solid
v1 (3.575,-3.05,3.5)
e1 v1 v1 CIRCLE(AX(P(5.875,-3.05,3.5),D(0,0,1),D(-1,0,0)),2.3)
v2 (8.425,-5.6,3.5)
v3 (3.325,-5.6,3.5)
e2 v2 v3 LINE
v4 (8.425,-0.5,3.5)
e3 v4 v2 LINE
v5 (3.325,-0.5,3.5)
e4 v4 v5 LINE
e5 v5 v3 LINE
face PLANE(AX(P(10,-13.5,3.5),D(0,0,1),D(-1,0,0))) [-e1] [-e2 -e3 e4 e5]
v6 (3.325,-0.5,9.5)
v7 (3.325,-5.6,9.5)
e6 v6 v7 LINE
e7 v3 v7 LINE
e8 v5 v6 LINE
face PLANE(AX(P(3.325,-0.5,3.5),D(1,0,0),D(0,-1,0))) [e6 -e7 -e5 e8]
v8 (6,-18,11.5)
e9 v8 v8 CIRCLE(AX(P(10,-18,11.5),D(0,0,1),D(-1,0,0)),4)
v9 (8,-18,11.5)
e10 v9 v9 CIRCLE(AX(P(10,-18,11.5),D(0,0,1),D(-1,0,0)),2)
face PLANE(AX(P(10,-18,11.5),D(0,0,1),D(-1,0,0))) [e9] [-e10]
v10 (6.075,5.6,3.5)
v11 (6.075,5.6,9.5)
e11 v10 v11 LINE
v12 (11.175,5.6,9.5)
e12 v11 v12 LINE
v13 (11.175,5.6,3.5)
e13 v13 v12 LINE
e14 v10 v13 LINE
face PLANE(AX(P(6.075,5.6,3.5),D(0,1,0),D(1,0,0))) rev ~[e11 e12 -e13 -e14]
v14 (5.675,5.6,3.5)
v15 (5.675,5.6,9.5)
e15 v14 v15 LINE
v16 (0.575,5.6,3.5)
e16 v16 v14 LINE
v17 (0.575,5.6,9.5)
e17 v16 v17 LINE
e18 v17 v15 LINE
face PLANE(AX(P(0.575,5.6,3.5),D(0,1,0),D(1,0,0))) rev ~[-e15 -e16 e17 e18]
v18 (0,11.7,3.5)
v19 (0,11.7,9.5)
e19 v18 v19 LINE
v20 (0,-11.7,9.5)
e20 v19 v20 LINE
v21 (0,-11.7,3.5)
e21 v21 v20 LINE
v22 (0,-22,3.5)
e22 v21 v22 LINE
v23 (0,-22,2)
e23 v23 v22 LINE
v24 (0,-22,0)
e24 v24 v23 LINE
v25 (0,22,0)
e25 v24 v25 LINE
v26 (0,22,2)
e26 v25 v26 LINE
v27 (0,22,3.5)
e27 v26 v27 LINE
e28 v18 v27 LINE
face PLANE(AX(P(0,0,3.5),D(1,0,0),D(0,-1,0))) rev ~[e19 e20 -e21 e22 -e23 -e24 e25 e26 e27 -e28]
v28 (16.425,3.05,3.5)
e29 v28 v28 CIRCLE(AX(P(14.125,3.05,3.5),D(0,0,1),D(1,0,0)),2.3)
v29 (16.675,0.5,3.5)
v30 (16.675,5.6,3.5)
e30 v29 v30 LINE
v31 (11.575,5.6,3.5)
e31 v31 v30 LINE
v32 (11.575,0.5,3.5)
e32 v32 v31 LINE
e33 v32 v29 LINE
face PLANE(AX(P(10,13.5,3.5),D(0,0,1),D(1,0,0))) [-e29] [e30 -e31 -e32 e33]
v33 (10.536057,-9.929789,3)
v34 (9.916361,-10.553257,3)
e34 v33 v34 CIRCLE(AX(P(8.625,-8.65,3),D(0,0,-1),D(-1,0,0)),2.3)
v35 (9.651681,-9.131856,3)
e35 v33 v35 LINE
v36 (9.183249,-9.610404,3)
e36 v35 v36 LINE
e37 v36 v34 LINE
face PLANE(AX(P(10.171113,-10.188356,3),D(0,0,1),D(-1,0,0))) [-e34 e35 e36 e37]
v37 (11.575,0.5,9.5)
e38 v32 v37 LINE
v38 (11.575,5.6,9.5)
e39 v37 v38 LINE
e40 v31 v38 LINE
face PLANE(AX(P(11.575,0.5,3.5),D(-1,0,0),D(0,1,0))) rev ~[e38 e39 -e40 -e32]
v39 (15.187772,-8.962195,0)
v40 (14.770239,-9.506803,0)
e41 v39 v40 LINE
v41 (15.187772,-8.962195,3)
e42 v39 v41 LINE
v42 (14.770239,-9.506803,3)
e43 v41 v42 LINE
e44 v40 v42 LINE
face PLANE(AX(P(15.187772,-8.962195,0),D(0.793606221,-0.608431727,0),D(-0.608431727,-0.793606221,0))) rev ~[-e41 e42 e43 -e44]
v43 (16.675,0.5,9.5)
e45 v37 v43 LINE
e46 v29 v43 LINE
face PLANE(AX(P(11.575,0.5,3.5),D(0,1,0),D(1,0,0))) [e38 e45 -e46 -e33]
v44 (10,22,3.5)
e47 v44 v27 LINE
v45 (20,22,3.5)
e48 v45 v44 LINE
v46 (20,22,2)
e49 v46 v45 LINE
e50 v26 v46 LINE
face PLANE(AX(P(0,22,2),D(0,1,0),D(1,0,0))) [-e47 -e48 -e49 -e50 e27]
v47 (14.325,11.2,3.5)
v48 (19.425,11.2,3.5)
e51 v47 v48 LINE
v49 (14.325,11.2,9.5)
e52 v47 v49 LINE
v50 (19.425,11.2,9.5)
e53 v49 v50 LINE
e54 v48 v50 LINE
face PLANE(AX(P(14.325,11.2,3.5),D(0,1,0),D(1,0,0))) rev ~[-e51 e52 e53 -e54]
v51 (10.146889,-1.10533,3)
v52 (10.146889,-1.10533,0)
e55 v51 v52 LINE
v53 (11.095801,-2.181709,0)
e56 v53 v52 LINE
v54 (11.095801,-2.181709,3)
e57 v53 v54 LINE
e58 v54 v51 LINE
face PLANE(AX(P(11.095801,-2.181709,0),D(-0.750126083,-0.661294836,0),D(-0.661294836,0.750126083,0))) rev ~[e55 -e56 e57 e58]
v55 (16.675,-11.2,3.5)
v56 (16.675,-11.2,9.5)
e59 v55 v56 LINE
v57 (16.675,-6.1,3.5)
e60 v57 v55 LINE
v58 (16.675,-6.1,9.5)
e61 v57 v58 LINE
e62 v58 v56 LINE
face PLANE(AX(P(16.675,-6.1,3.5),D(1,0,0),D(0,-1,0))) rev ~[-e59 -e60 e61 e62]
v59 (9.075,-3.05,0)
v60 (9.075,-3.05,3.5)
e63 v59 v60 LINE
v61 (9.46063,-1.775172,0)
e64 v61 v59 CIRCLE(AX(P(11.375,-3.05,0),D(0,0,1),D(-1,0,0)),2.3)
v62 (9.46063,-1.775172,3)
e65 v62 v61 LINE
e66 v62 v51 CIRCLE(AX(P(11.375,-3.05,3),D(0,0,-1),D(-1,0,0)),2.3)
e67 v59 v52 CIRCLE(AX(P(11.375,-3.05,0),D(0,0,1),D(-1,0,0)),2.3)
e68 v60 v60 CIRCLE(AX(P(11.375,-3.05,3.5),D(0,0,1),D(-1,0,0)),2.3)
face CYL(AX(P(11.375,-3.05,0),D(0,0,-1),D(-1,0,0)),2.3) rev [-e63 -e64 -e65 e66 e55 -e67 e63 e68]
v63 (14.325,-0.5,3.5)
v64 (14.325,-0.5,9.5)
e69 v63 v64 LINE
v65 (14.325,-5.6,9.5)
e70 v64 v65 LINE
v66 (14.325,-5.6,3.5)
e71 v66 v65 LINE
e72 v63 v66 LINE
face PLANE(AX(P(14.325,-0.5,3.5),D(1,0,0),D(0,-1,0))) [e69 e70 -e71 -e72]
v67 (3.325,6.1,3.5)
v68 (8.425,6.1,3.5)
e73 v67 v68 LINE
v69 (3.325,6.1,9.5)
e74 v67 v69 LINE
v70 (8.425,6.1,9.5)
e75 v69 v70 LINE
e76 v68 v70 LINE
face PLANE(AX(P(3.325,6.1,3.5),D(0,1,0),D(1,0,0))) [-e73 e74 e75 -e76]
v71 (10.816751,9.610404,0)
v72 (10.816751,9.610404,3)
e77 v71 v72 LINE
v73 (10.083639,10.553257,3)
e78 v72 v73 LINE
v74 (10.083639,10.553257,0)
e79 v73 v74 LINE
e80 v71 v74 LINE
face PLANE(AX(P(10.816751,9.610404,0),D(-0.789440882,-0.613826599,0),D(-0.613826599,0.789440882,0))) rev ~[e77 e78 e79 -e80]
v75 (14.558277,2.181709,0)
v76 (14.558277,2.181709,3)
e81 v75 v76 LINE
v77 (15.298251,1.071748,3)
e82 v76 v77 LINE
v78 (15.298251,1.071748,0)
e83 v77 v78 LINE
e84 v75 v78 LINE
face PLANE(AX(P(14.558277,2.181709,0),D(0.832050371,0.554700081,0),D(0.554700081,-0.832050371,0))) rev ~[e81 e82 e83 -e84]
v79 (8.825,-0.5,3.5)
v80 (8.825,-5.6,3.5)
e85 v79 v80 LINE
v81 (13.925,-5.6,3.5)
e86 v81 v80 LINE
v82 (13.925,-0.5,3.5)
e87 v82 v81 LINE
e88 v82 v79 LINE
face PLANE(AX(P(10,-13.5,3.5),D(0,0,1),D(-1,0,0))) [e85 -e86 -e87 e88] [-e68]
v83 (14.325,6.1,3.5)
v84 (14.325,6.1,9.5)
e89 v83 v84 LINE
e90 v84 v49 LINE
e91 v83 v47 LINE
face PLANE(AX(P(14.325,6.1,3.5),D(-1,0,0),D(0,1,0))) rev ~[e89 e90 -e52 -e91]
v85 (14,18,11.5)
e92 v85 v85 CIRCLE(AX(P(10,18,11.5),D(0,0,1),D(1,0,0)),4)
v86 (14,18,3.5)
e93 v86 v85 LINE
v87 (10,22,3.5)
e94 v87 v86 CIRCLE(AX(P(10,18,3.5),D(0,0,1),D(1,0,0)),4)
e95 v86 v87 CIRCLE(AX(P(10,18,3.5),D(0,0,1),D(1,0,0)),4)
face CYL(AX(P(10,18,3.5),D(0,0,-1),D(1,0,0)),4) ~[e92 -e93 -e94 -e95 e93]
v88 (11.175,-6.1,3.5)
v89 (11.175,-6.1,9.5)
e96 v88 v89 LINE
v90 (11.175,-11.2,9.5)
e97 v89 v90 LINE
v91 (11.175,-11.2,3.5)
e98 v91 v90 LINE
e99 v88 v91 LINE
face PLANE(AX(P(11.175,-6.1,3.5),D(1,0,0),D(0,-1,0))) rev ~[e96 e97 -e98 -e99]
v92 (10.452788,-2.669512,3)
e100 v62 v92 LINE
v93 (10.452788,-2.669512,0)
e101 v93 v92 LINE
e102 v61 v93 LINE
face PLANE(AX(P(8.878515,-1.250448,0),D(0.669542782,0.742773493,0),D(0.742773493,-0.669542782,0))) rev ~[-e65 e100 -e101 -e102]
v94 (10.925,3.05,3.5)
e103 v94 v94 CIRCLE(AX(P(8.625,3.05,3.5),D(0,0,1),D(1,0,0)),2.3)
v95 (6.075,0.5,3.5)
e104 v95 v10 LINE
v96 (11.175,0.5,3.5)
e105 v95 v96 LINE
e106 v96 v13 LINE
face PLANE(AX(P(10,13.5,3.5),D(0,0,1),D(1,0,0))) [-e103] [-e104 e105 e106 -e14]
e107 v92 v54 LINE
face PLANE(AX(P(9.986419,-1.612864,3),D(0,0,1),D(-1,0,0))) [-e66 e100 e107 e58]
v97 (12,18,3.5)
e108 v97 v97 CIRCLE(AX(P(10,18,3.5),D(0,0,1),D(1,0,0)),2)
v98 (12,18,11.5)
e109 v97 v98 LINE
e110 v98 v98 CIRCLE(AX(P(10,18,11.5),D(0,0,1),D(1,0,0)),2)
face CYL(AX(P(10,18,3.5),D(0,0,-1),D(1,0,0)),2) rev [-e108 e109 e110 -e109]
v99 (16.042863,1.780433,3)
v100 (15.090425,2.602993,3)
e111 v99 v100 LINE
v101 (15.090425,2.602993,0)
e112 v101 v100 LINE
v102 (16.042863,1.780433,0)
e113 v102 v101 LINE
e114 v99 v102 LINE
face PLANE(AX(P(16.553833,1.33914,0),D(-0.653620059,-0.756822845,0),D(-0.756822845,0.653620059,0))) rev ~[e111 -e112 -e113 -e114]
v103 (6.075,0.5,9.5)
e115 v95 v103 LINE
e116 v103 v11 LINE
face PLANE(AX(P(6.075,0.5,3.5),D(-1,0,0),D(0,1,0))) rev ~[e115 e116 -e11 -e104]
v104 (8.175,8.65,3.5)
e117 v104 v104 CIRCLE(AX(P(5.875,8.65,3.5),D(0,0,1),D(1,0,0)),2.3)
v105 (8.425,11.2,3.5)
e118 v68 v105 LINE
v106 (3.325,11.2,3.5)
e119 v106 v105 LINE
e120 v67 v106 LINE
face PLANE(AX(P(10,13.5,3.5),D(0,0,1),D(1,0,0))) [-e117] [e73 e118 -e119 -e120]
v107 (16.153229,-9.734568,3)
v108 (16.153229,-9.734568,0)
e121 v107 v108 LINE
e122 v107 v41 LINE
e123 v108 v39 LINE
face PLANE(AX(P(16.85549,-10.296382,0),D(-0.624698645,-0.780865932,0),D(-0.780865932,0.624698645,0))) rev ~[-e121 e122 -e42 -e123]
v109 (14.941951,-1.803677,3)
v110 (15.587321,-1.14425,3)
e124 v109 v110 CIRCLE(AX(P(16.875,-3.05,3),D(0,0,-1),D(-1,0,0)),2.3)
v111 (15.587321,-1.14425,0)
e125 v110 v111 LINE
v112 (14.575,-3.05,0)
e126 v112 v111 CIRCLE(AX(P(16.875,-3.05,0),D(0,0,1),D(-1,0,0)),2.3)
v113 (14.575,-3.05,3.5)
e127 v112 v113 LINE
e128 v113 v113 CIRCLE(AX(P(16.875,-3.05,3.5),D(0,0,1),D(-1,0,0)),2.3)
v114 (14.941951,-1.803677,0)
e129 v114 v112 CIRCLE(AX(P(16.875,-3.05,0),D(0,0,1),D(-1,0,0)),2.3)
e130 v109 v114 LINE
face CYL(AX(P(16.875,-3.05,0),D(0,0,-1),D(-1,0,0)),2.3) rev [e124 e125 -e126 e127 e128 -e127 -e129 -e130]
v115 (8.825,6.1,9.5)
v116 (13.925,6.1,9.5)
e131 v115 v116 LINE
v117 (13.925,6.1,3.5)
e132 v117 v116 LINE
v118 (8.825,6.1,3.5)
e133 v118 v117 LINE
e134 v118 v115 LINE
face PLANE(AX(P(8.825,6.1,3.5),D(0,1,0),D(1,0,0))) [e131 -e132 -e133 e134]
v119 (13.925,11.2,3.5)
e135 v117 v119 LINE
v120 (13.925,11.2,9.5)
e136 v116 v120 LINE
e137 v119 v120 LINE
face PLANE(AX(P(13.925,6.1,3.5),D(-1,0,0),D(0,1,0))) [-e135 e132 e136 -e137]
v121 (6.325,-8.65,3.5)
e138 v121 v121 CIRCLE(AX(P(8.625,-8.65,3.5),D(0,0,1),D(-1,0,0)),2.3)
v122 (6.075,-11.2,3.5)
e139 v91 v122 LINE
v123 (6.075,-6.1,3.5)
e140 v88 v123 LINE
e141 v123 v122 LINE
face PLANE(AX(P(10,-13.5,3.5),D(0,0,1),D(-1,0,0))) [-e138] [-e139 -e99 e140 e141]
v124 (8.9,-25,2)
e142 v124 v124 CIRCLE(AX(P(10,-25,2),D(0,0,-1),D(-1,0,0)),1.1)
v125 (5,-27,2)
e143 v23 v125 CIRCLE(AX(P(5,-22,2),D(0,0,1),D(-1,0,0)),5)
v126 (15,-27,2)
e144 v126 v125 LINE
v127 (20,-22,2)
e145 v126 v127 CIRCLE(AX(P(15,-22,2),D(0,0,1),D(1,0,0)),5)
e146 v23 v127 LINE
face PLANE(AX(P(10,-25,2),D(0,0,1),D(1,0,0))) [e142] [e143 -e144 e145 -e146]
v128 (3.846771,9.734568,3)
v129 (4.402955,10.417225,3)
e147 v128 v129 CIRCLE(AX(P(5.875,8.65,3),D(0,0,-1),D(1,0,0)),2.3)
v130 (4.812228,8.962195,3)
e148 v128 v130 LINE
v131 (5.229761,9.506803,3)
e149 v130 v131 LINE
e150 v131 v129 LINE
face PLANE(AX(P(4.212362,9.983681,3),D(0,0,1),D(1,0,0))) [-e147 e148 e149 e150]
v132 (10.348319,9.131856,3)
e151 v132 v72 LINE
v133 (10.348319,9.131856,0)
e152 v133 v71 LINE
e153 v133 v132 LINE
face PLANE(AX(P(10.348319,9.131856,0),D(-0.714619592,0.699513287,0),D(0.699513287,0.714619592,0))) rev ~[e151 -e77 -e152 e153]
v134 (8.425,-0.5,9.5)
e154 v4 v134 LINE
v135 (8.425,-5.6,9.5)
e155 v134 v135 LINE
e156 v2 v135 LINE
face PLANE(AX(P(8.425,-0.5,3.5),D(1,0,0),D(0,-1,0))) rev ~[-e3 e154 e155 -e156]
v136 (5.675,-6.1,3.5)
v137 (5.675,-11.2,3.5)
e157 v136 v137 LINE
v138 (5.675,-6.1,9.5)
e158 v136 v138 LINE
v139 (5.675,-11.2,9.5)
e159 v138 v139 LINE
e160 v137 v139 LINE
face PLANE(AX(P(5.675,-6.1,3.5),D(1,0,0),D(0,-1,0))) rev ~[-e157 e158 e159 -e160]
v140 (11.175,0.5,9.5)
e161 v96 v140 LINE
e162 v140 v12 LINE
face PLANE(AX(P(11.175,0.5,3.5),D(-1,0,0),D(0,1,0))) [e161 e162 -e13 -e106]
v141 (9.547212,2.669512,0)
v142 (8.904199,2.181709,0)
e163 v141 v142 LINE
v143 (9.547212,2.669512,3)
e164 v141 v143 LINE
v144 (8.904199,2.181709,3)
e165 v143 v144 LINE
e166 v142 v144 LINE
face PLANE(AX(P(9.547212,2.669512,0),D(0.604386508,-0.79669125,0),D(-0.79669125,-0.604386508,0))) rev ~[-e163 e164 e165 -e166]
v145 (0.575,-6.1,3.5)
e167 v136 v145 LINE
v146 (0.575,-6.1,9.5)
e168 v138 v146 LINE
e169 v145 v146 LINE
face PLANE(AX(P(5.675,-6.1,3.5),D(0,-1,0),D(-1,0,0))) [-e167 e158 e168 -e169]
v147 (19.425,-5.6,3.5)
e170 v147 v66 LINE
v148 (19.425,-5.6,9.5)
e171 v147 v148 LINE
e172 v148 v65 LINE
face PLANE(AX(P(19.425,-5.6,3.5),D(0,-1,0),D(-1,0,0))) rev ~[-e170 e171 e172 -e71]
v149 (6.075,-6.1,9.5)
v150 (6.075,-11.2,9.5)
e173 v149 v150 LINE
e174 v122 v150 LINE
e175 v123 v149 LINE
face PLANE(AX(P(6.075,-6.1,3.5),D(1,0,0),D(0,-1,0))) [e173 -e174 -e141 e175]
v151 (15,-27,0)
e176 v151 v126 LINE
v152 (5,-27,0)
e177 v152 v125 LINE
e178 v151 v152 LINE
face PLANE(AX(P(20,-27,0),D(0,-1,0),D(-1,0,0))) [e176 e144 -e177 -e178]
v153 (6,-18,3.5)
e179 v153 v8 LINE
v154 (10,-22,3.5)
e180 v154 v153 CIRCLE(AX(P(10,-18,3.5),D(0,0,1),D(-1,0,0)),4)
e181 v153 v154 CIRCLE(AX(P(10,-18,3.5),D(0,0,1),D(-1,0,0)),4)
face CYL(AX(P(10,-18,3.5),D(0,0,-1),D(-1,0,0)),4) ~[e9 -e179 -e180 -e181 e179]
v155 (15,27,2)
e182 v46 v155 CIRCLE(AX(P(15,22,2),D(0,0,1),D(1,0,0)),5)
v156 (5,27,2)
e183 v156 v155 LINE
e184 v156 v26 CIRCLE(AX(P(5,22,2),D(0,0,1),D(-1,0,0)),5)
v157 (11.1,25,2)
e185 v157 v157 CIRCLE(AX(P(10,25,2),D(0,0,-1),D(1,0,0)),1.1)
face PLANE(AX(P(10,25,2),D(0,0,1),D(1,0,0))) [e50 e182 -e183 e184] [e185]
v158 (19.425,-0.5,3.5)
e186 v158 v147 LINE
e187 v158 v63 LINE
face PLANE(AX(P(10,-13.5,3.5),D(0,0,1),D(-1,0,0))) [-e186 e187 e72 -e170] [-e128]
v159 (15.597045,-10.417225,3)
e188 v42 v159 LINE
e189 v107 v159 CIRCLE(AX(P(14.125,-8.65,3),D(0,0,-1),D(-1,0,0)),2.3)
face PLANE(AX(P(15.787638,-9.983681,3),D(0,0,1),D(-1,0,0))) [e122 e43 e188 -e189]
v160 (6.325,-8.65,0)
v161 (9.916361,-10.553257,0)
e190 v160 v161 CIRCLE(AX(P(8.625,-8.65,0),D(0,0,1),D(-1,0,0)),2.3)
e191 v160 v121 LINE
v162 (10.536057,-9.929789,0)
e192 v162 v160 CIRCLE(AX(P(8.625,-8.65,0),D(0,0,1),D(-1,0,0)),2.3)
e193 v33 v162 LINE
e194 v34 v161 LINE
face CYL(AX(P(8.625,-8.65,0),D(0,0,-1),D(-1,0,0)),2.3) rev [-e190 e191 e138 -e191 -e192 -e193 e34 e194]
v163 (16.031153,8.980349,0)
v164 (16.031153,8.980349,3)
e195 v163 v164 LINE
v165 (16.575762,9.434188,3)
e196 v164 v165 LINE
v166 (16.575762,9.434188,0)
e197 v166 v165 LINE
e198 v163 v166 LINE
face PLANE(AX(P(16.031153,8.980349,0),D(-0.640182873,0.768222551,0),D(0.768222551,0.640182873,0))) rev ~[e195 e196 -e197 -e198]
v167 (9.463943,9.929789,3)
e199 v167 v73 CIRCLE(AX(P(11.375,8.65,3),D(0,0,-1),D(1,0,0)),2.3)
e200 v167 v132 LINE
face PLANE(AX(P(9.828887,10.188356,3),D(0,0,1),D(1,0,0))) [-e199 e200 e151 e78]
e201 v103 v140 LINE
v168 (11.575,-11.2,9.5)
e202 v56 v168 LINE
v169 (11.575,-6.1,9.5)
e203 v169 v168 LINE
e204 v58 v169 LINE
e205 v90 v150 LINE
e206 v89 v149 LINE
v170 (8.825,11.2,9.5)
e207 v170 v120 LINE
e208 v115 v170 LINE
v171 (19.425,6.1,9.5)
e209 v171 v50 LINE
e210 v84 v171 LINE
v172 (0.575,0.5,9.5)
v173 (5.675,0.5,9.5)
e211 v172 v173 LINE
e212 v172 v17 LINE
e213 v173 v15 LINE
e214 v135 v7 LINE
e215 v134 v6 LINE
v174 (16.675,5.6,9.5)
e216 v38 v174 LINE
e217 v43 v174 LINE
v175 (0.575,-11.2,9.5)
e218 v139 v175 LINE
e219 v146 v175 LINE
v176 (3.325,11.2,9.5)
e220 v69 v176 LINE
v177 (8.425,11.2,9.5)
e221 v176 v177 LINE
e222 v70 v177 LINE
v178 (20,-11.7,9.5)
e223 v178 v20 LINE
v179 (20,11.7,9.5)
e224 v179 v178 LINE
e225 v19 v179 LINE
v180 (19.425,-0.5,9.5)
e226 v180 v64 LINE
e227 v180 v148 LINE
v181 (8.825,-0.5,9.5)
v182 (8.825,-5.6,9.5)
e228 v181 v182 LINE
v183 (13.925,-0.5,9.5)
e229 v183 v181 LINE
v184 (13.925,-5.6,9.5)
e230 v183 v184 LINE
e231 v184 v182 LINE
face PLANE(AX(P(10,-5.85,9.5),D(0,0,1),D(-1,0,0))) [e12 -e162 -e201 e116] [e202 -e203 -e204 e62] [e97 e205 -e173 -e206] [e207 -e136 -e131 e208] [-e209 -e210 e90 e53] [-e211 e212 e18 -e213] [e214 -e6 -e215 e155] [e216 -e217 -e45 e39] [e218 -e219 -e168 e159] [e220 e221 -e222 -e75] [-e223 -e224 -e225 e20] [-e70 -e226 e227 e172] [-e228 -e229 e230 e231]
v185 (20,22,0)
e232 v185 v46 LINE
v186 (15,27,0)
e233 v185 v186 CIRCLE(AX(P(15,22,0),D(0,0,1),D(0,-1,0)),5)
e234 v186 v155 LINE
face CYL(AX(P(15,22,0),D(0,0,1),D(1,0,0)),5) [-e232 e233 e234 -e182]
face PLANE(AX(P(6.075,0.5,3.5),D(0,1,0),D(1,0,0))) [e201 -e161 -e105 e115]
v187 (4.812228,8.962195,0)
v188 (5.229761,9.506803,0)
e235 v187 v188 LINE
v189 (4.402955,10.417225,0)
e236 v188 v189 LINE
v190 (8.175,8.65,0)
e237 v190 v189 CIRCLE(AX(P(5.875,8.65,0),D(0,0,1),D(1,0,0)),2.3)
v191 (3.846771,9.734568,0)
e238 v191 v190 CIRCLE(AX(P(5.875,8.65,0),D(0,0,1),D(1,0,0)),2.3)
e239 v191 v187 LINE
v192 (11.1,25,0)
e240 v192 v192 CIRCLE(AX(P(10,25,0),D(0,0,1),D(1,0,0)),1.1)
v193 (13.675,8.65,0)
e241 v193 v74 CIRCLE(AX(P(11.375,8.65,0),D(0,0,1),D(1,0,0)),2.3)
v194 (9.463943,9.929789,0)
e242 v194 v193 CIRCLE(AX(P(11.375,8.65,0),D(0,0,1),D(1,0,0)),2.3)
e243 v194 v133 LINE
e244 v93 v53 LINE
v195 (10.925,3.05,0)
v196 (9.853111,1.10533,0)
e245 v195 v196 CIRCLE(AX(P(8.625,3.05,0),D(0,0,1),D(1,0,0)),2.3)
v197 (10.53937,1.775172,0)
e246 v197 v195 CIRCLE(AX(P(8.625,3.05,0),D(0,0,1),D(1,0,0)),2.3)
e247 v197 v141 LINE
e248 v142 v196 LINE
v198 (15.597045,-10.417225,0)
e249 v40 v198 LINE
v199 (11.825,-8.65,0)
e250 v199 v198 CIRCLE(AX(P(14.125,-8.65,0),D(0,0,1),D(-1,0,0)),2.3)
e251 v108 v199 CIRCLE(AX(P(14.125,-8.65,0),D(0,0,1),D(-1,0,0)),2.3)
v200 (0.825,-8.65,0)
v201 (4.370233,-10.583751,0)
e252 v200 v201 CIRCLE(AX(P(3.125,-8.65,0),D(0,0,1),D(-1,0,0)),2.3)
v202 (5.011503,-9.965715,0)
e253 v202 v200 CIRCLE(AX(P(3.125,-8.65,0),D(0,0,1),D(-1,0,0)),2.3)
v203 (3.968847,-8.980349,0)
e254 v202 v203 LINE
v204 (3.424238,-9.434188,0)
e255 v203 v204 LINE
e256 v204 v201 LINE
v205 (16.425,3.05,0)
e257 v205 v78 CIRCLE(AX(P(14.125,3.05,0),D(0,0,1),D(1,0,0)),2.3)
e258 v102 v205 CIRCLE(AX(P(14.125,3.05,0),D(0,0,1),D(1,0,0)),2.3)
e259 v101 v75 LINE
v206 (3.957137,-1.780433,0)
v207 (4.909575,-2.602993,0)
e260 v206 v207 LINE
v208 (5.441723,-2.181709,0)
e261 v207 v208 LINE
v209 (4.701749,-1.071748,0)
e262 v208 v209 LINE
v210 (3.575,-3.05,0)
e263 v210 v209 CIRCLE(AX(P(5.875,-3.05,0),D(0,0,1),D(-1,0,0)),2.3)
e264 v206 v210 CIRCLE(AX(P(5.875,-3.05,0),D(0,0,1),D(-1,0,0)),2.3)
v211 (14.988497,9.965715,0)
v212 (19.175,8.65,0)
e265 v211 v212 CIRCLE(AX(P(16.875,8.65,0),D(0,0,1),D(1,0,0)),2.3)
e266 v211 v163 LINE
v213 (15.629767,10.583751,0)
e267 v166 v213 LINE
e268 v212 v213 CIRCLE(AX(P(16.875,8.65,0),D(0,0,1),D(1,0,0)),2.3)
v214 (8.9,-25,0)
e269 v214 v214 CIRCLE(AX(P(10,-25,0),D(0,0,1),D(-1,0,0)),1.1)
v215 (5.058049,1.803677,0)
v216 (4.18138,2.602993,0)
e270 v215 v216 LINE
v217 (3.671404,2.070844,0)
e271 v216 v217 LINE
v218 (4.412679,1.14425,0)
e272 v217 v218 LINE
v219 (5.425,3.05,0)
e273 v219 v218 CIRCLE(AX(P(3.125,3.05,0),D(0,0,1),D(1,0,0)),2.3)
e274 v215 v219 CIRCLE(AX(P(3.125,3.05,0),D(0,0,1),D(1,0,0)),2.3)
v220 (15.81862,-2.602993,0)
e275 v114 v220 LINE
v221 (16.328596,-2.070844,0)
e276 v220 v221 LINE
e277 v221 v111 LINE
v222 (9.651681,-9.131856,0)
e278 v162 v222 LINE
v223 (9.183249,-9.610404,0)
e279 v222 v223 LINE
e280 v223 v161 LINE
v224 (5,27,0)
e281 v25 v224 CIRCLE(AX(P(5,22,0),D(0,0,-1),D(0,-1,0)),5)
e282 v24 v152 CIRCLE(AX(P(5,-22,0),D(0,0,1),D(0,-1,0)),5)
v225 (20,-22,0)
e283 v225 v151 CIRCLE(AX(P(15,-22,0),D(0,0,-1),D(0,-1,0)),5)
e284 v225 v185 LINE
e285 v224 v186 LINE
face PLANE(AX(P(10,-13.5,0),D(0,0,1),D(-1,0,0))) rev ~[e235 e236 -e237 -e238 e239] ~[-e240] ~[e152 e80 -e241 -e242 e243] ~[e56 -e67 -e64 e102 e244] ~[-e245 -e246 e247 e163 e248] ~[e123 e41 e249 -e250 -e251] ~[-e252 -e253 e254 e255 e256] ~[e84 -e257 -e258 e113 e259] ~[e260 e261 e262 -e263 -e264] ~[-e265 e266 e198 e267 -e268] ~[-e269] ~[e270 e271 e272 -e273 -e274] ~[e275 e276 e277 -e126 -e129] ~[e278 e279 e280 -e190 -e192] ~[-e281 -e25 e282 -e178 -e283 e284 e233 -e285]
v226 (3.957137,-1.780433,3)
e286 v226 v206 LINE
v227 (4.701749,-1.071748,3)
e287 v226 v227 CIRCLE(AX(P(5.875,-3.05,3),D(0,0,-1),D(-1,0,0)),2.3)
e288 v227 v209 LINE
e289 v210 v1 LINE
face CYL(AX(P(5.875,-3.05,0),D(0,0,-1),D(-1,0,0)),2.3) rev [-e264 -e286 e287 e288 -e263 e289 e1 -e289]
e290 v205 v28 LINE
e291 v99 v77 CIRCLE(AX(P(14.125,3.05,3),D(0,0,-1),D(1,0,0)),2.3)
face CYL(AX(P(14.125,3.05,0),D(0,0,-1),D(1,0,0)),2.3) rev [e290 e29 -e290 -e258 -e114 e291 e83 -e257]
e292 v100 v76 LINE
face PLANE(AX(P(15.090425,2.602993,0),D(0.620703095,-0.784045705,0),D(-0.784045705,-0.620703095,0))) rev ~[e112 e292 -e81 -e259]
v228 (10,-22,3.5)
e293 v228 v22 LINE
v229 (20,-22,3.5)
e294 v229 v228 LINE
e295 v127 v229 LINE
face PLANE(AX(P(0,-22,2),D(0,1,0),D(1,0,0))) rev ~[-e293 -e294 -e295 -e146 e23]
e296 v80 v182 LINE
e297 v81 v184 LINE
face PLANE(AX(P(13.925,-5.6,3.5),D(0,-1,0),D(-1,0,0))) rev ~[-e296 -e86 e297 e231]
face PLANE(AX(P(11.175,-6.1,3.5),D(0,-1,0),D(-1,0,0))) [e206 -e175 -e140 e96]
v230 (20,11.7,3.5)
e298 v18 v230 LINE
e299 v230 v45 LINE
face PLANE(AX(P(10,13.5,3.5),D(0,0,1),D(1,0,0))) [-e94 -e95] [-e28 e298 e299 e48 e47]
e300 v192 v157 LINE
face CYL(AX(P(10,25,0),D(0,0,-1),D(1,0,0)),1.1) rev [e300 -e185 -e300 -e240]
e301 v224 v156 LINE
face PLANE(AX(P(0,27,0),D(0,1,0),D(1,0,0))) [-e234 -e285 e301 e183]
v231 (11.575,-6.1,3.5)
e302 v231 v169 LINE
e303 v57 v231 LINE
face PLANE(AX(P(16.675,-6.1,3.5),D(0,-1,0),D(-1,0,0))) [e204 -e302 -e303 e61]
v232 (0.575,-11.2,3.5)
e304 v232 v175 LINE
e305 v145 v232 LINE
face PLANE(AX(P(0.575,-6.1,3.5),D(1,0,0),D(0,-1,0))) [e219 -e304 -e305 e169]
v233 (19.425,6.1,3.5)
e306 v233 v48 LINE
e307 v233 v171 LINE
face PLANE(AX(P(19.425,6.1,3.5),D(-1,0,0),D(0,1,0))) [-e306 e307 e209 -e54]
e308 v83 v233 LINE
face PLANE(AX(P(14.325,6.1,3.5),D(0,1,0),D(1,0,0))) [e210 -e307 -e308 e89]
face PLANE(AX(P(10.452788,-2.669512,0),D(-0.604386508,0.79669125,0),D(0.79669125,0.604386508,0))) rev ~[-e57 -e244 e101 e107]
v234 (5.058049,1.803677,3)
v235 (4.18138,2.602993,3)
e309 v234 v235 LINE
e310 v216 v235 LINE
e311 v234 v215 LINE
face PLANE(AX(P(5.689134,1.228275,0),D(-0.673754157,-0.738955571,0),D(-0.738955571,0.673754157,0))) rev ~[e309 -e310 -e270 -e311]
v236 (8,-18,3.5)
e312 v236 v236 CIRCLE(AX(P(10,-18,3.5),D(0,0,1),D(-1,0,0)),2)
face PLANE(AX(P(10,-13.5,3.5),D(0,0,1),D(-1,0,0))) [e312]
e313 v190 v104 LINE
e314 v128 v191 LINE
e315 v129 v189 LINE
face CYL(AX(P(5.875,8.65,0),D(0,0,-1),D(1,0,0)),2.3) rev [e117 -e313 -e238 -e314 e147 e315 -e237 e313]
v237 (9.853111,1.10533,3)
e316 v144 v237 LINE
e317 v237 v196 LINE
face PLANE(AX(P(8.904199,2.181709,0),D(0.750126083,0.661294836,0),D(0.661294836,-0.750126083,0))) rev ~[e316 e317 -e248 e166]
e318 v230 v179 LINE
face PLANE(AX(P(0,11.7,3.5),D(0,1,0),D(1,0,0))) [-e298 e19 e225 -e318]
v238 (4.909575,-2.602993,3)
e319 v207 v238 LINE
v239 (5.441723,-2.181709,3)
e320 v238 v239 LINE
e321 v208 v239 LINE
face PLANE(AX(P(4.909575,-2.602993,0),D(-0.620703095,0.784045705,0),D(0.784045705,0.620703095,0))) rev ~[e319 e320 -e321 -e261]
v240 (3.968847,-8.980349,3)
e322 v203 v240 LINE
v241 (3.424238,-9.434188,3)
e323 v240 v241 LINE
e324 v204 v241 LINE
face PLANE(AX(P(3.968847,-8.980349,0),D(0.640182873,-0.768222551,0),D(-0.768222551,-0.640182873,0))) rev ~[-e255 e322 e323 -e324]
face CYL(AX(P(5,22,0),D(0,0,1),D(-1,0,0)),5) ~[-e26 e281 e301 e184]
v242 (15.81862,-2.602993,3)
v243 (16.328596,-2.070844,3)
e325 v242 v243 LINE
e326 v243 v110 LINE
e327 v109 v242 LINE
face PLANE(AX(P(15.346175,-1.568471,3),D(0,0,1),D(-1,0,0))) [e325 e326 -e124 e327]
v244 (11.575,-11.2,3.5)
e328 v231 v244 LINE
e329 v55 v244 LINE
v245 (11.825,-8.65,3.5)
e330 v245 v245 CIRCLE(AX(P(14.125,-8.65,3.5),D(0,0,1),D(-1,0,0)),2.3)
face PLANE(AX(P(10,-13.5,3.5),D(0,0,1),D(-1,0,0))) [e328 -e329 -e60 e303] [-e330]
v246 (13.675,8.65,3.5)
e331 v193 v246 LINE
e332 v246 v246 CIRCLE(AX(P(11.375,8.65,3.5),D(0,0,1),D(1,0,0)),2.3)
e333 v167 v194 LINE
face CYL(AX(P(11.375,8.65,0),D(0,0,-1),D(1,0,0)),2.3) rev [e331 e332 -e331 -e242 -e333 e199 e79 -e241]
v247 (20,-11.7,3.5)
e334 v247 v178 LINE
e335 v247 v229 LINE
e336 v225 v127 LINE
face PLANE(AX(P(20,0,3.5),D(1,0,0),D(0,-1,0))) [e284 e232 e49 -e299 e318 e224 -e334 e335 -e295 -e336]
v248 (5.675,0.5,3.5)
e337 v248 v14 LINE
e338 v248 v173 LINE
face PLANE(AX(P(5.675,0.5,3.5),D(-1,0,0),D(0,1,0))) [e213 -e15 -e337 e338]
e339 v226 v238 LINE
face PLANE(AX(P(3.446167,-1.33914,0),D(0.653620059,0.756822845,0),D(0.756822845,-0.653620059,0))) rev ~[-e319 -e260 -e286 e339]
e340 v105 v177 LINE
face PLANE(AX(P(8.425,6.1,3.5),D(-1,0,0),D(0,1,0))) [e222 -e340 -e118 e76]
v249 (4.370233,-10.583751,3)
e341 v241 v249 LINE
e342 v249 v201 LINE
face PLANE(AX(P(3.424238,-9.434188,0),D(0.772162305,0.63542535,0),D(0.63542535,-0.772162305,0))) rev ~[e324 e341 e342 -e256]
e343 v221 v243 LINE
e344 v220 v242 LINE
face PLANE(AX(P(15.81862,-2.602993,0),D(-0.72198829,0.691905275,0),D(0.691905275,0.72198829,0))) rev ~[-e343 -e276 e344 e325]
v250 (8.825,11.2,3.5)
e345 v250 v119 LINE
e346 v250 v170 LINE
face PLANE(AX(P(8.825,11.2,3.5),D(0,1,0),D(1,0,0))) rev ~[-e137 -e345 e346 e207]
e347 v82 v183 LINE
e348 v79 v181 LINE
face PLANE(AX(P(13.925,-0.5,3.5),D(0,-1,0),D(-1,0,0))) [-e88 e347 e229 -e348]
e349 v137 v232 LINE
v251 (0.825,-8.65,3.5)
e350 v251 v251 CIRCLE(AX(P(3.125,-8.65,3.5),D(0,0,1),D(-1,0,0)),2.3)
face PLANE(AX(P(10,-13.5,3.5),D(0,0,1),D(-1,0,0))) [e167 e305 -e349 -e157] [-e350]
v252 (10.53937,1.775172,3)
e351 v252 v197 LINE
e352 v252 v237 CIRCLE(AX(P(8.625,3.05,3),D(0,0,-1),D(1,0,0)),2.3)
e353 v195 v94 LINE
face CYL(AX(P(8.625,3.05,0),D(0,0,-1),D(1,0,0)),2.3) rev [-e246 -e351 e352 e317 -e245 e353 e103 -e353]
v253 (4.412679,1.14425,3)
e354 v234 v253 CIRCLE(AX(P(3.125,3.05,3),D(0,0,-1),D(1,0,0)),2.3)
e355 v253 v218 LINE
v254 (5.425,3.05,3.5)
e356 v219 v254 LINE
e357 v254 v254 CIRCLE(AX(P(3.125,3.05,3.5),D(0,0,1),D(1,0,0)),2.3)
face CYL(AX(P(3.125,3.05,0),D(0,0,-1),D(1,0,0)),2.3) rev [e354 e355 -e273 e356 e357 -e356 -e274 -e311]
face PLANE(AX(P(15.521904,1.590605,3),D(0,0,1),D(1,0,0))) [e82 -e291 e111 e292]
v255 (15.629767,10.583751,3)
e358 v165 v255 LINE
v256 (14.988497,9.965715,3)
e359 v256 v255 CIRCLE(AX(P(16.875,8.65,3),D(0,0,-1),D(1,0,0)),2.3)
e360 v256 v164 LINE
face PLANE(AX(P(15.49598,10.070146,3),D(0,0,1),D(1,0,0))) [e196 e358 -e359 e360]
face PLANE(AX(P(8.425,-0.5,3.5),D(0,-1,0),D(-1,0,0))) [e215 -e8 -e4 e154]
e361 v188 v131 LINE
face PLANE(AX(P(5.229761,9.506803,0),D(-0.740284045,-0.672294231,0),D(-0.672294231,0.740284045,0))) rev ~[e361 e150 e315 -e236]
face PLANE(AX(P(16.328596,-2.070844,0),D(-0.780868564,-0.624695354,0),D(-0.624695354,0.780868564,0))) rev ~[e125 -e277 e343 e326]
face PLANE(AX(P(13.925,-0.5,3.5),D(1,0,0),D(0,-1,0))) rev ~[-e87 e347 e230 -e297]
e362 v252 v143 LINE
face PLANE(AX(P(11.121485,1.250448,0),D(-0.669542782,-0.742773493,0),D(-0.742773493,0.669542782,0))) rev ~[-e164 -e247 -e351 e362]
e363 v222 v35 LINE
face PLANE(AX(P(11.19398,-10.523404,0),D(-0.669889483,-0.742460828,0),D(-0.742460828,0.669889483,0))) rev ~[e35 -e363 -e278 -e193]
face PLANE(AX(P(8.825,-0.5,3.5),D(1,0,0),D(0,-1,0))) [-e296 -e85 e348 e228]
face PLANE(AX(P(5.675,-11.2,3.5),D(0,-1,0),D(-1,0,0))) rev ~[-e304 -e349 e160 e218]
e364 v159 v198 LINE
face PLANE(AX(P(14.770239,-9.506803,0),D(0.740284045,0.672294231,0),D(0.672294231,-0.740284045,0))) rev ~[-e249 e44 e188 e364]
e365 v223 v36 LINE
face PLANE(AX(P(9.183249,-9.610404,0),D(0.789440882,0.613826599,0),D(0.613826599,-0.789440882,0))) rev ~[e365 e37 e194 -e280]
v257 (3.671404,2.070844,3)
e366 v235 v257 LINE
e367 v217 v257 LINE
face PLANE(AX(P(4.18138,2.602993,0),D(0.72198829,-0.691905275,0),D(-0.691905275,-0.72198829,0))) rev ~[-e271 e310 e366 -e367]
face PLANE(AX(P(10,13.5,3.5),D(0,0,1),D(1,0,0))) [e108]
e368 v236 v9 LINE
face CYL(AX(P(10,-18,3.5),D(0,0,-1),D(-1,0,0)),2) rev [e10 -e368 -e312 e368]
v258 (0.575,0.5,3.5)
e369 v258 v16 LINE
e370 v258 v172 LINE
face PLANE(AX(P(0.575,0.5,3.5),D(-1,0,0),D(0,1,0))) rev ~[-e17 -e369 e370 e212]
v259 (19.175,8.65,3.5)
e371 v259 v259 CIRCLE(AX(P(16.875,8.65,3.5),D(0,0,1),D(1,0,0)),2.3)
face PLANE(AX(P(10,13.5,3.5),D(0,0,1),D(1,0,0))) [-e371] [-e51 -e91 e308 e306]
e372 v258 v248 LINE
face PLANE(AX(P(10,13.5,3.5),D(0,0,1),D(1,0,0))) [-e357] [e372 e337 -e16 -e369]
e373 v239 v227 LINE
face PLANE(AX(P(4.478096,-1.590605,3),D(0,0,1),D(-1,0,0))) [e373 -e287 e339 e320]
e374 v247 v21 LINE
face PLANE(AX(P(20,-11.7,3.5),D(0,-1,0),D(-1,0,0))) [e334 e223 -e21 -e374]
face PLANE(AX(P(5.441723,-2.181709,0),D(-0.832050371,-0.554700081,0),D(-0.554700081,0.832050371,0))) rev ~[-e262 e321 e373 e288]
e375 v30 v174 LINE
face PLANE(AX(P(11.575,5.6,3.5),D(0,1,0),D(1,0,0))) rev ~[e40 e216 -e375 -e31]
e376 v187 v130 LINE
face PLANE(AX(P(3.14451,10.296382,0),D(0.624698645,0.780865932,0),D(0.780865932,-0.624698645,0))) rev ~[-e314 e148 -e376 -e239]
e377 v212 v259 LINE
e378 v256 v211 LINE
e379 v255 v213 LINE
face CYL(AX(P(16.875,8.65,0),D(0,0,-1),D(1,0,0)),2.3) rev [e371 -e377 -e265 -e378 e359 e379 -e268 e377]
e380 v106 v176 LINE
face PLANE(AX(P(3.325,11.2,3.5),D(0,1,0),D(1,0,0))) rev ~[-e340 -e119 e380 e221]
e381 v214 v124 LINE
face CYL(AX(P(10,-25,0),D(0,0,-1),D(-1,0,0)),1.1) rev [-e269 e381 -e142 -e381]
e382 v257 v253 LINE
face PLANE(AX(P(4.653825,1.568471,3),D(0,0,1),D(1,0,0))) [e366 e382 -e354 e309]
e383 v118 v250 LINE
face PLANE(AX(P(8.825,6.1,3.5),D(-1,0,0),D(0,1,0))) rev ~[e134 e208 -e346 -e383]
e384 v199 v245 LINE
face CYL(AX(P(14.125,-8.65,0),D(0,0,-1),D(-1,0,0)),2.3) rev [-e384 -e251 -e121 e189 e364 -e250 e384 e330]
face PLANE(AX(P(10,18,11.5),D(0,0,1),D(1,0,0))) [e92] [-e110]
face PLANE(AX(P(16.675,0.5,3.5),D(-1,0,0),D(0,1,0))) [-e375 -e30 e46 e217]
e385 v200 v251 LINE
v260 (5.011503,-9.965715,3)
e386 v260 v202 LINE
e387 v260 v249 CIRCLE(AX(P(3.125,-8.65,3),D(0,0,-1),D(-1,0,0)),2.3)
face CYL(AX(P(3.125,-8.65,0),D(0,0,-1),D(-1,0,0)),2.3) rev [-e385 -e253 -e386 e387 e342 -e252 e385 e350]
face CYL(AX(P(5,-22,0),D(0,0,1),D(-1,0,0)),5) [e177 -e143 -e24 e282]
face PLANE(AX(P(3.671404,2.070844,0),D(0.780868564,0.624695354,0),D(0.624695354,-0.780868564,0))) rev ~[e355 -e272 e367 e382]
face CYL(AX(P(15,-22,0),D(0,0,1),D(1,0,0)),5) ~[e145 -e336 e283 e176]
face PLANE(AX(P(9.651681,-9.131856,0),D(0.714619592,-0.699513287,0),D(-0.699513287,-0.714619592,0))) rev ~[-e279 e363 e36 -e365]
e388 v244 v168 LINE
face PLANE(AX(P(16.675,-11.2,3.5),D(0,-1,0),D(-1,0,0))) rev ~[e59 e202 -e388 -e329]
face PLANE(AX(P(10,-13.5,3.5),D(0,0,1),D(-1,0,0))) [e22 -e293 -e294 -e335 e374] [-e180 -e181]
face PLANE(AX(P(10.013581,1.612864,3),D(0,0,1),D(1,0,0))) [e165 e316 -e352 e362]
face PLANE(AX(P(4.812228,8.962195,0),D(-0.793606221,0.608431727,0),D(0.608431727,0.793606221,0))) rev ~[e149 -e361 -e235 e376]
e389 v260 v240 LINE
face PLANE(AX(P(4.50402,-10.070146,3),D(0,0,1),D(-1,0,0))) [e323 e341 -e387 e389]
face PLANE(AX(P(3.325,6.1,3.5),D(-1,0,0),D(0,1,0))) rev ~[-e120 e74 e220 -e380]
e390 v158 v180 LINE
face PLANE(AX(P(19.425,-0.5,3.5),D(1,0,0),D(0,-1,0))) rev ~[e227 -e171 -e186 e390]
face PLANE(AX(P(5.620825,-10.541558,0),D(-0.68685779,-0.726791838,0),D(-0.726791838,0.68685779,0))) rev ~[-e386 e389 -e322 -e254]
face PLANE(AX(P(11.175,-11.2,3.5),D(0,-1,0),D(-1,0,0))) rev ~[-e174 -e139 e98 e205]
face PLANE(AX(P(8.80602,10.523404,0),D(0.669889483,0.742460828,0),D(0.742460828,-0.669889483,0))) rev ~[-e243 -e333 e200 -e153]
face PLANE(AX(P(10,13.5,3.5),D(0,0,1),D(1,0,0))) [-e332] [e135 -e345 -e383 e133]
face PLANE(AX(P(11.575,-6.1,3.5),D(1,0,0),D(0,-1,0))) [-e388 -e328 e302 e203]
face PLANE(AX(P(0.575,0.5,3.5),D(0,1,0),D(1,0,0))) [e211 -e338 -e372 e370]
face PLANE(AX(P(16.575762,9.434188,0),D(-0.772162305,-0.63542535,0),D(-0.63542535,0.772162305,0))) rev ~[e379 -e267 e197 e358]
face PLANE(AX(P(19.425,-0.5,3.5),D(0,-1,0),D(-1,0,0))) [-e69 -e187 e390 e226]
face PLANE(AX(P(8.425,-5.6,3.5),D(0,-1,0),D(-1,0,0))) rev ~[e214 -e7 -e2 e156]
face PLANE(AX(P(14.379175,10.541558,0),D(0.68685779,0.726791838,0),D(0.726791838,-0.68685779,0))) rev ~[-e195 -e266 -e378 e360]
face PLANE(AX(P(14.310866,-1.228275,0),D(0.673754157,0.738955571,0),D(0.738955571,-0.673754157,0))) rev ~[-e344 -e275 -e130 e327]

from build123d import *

# Parameters (mm, degrees)
SKETCH013_W               = 20
SKETCH013_H               = 6
PAD013_DEPTH              = 2
SKETCH009_W               = 20
SKETCH009_H               = 27
SKETCH009_R               = 2.3
SKETCH009_R_2             = 1.1
PAD009_DEPTH              = 3.5
SKETCH010_W               = 20
SKETCH010_H               = 11.7
SKETCH010_W_2             = 5.1
SKETCH010_H_2             = 5.1
PAD010_DEPTH              = 6
SKETCH011_R               = 4
SKETCH011_R_2             = 2
PAD011_DEPTH              = 8
PAD012_DEPTH              = 3
FUSION001_PLACEMENT_ANGLE = 180
SKETCH_W                  = 20
SKETCH_H                  = 27
SKETCH_R                  = 2.3
SKETCH_R_2                = 1.1
PAD_DEPTH                 = 3.5
SKETCH001_W               = 20
SKETCH001_H               = 11.7
SKETCH001_W_2             = 5.1
SKETCH001_H_2             = 5.1
PAD001_DEPTH              = 6
SKETCH002_R               = 4
SKETCH002_R_2             = 2
PAD002_DEPTH              = 8
PAD003_DEPTH              = 3
FILLET_R                  = 5


with BuildPart() as pad013:
    # Sketch013 → Pad013 (new body)
    with BuildSketch(Plane.XY.offset(2)):
        with Locations((10, 25)):
            Rectangle(SKETCH013_W, SKETCH013_H)
        with Locations((10, -25)):
            Rectangle(SKETCH013_W, SKETCH013_H)
    extrude(amount=PAD013_DEPTH)


with BuildPart() as pad009:
    # Sketch009 → Pad009 (new body)
    with BuildSketch(Plane.XY):
        with Locations((10, 13.5)):
            Rectangle(SKETCH009_W, SKETCH009_H)
        with Locations((5.875, 8.65)):
            Circle(SKETCH009_R, mode=Mode.SUBTRACT)
        with Locations((11.375, 8.65)):
            Circle(SKETCH009_R, mode=Mode.SUBTRACT)
        with Locations((16.875, 8.65)):
            Circle(SKETCH009_R, mode=Mode.SUBTRACT)
        with Locations((14.125, 3.05)):
            Circle(SKETCH009_R, mode=Mode.SUBTRACT)
        with Locations((8.625, 3.05)):
            Circle(SKETCH009_R, mode=Mode.SUBTRACT)
        with Locations((3.125, 3.05)):
            Circle(SKETCH009_R, mode=Mode.SUBTRACT)
        with Locations((10, 25)):
            Circle(SKETCH009_R_2, mode=Mode.SUBTRACT)
    extrude(amount=PAD009_DEPTH)


with BuildPart() as pad010:
    # Sketch010 → Pad010 (new body)
    with BuildSketch(Plane.XY.offset(3.5)):
        with Locations((10, 5.85)):
            Rectangle(SKETCH010_W, SKETCH010_H)
        with Locations((5.875, 8.65)):
            Rectangle(SKETCH010_W_2, SKETCH010_H_2, mode=Mode.SUBTRACT)
        with Locations((11.375, 8.65)):
            Rectangle(SKETCH010_W_2, SKETCH010_H_2, mode=Mode.SUBTRACT)
        with Locations((16.875, 8.65)):
            Rectangle(SKETCH010_W_2, SKETCH010_H_2, mode=Mode.SUBTRACT)
        with Locations((3.125, 3.05)):
            Rectangle(SKETCH010_W_2, SKETCH010_H_2, mode=Mode.SUBTRACT)
        with Locations((8.625, 3.05)):
            Rectangle(SKETCH010_W_2, SKETCH010_H_2, mode=Mode.SUBTRACT)
        with Locations((14.125, 3.05)):
            Rectangle(SKETCH010_W_2, SKETCH010_H_2, mode=Mode.SUBTRACT)
    extrude(amount=PAD010_DEPTH)


with BuildPart() as pad011:
    # Sketch011 → Pad011 (new body)
    with BuildSketch(Plane.XY.offset(3.5)):
        with Locations((10, 18)):
            Circle(SKETCH011_R)
        with Locations((10, 18)):
            Circle(SKETCH011_R_2, mode=Mode.SUBTRACT)
    extrude(amount=PAD011_DEPTH)


with BuildPart() as fusion001:
    # Sketch012 → Pad012 (new body)
    with BuildSketch(Plane.XY):
        Polygon((3.14451, 10.296382), (4.812228, 8.962195), (5.229761, 9.506803), (3.848642, 11.027596), align=None)
        Polygon((8.80602, 10.523404), (10.348319, 9.131856), (10.816751, 9.610404), (9.51401, 11.285856), align=None)
        Polygon((14.379175, 10.541558), (16.031153, 8.980349), (16.575762, 9.434188), (15.141627, 11.176934), align=None)
        Polygon((3.671404, 2.070844), (4.913085, 0.518744), (5.689134, 1.228275), (4.18138, 2.602993), align=None)
        Polygon((8.904199, 2.181709), (10.38978, 0.496571), (11.121485, 1.250448), (9.547212, 2.669512), align=None)
        Polygon((14.558277, 2.181709), (15.66692, 0.518744), (16.553833, 1.33914), (15.090425, 2.602993), align=None)
    extrude(amount=PAD012_DEPTH)

    # Fusion001: union Pad009, Pad010, Pad011
    add(pad009.part)
    add(pad010.part)
    add(pad011.part)


with BuildPart() as fusion001_1:
    # Fusion001 placement: moved
    add(fusion001.part.moved(Location((20, 0, 0))).rotate(Axis((20, 0, 0), (0, 0, 1)), FUSION001_PLACEMENT_ANGLE))


with BuildPart() as pad:
    # Sketch → Pad (new body)
    with BuildSketch(Plane.XY):
        with Locations((10, 13.5)):
            Rectangle(SKETCH_W, SKETCH_H)
        with Locations((5.875, 8.65)):
            Circle(SKETCH_R, mode=Mode.SUBTRACT)
        with Locations((11.375, 8.65)):
            Circle(SKETCH_R, mode=Mode.SUBTRACT)
        with Locations((16.875, 8.65)):
            Circle(SKETCH_R, mode=Mode.SUBTRACT)
        with Locations((14.125, 3.05)):
            Circle(SKETCH_R, mode=Mode.SUBTRACT)
        with Locations((8.625, 3.05)):
            Circle(SKETCH_R, mode=Mode.SUBTRACT)
        with Locations((3.125, 3.05)):
            Circle(SKETCH_R, mode=Mode.SUBTRACT)
        with Locations((10, 25)):
            Circle(SKETCH_R_2, mode=Mode.SUBTRACT)
    extrude(amount=PAD_DEPTH)


with BuildPart() as pad001:
    # Sketch001 → Pad001 (new body)
    with BuildSketch(Plane.XY.offset(3.5)):
        with Locations((10, 5.85)):
            Rectangle(SKETCH001_W, SKETCH001_H)
        with Locations((5.875, 8.65)):
            Rectangle(SKETCH001_W_2, SKETCH001_H_2, mode=Mode.SUBTRACT)
        with Locations((11.375, 8.65)):
            Rectangle(SKETCH001_W_2, SKETCH001_H_2, mode=Mode.SUBTRACT)
        with Locations((16.875, 8.65)):
            Rectangle(SKETCH001_W_2, SKETCH001_H_2, mode=Mode.SUBTRACT)
        with Locations((3.125, 3.05)):
            Rectangle(SKETCH001_W_2, SKETCH001_H_2, mode=Mode.SUBTRACT)
        with Locations((8.625, 3.05)):
            Rectangle(SKETCH001_W_2, SKETCH001_H_2, mode=Mode.SUBTRACT)
        with Locations((14.125, 3.05)):
            Rectangle(SKETCH001_W_2, SKETCH001_H_2, mode=Mode.SUBTRACT)
    extrude(amount=PAD001_DEPTH)


with BuildPart() as pad002:
    # Sketch002 → Pad002 (new body)
    with BuildSketch(Plane.XY.offset(3.5)):
        with Locations((10, 18)):
            Circle(SKETCH002_R)
        with Locations((10, 18)):
            Circle(SKETCH002_R_2, mode=Mode.SUBTRACT)
    extrude(amount=PAD002_DEPTH)


with BuildPart() as cut:
    # Sketch003 → Pad003 (new body)
    with BuildSketch(Plane.XY):
        Polygon((3.14451, 10.296382), (4.812228, 8.962195), (5.229761, 9.506803), (3.848642, 11.027596), align=None)
        Polygon((8.80602, 10.523404), (10.348319, 9.131856), (10.816751, 9.610404), (9.51401, 11.285856), align=None)
        Polygon((14.379175, 10.541558), (16.031153, 8.980349), (16.575762, 9.434188), (15.141627, 11.176934), align=None)
        Polygon((3.671404, 2.070844), (4.913085, 0.518744), (5.689134, 1.228275), (4.18138, 2.602993), align=None)
        Polygon((8.904199, 2.181709), (10.38978, 0.496571), (11.121485, 1.250448), (9.547212, 2.669512), align=None)
        Polygon((14.558277, 2.181709), (15.66692, 0.518744), (16.553833, 1.33914), (15.090425, 2.602993), align=None)
    extrude(amount=PAD003_DEPTH)

    # Fusion: union Pad, Pad001, Pad002
    add(pad.part)
    add(pad001.part)
    add(pad002.part)

    # Fusion002: union Fusion001
    add(fusion001_1.part)

    # Fillet
    fillet_edges = [cut.edges().sort_by_distance(p)[0] for p in [
        (0, 27, 1.75),
        (20, 27, 1.75),
        (20, -27, 1.75),
        (0, -27, 1.75),
    ]]
    fillet(fillet_edges, radius=FILLET_R)

    # Cut: cut Pad013
    add(pad013.part, mode=Mode.SUBTRACT)


solid = cut.part
